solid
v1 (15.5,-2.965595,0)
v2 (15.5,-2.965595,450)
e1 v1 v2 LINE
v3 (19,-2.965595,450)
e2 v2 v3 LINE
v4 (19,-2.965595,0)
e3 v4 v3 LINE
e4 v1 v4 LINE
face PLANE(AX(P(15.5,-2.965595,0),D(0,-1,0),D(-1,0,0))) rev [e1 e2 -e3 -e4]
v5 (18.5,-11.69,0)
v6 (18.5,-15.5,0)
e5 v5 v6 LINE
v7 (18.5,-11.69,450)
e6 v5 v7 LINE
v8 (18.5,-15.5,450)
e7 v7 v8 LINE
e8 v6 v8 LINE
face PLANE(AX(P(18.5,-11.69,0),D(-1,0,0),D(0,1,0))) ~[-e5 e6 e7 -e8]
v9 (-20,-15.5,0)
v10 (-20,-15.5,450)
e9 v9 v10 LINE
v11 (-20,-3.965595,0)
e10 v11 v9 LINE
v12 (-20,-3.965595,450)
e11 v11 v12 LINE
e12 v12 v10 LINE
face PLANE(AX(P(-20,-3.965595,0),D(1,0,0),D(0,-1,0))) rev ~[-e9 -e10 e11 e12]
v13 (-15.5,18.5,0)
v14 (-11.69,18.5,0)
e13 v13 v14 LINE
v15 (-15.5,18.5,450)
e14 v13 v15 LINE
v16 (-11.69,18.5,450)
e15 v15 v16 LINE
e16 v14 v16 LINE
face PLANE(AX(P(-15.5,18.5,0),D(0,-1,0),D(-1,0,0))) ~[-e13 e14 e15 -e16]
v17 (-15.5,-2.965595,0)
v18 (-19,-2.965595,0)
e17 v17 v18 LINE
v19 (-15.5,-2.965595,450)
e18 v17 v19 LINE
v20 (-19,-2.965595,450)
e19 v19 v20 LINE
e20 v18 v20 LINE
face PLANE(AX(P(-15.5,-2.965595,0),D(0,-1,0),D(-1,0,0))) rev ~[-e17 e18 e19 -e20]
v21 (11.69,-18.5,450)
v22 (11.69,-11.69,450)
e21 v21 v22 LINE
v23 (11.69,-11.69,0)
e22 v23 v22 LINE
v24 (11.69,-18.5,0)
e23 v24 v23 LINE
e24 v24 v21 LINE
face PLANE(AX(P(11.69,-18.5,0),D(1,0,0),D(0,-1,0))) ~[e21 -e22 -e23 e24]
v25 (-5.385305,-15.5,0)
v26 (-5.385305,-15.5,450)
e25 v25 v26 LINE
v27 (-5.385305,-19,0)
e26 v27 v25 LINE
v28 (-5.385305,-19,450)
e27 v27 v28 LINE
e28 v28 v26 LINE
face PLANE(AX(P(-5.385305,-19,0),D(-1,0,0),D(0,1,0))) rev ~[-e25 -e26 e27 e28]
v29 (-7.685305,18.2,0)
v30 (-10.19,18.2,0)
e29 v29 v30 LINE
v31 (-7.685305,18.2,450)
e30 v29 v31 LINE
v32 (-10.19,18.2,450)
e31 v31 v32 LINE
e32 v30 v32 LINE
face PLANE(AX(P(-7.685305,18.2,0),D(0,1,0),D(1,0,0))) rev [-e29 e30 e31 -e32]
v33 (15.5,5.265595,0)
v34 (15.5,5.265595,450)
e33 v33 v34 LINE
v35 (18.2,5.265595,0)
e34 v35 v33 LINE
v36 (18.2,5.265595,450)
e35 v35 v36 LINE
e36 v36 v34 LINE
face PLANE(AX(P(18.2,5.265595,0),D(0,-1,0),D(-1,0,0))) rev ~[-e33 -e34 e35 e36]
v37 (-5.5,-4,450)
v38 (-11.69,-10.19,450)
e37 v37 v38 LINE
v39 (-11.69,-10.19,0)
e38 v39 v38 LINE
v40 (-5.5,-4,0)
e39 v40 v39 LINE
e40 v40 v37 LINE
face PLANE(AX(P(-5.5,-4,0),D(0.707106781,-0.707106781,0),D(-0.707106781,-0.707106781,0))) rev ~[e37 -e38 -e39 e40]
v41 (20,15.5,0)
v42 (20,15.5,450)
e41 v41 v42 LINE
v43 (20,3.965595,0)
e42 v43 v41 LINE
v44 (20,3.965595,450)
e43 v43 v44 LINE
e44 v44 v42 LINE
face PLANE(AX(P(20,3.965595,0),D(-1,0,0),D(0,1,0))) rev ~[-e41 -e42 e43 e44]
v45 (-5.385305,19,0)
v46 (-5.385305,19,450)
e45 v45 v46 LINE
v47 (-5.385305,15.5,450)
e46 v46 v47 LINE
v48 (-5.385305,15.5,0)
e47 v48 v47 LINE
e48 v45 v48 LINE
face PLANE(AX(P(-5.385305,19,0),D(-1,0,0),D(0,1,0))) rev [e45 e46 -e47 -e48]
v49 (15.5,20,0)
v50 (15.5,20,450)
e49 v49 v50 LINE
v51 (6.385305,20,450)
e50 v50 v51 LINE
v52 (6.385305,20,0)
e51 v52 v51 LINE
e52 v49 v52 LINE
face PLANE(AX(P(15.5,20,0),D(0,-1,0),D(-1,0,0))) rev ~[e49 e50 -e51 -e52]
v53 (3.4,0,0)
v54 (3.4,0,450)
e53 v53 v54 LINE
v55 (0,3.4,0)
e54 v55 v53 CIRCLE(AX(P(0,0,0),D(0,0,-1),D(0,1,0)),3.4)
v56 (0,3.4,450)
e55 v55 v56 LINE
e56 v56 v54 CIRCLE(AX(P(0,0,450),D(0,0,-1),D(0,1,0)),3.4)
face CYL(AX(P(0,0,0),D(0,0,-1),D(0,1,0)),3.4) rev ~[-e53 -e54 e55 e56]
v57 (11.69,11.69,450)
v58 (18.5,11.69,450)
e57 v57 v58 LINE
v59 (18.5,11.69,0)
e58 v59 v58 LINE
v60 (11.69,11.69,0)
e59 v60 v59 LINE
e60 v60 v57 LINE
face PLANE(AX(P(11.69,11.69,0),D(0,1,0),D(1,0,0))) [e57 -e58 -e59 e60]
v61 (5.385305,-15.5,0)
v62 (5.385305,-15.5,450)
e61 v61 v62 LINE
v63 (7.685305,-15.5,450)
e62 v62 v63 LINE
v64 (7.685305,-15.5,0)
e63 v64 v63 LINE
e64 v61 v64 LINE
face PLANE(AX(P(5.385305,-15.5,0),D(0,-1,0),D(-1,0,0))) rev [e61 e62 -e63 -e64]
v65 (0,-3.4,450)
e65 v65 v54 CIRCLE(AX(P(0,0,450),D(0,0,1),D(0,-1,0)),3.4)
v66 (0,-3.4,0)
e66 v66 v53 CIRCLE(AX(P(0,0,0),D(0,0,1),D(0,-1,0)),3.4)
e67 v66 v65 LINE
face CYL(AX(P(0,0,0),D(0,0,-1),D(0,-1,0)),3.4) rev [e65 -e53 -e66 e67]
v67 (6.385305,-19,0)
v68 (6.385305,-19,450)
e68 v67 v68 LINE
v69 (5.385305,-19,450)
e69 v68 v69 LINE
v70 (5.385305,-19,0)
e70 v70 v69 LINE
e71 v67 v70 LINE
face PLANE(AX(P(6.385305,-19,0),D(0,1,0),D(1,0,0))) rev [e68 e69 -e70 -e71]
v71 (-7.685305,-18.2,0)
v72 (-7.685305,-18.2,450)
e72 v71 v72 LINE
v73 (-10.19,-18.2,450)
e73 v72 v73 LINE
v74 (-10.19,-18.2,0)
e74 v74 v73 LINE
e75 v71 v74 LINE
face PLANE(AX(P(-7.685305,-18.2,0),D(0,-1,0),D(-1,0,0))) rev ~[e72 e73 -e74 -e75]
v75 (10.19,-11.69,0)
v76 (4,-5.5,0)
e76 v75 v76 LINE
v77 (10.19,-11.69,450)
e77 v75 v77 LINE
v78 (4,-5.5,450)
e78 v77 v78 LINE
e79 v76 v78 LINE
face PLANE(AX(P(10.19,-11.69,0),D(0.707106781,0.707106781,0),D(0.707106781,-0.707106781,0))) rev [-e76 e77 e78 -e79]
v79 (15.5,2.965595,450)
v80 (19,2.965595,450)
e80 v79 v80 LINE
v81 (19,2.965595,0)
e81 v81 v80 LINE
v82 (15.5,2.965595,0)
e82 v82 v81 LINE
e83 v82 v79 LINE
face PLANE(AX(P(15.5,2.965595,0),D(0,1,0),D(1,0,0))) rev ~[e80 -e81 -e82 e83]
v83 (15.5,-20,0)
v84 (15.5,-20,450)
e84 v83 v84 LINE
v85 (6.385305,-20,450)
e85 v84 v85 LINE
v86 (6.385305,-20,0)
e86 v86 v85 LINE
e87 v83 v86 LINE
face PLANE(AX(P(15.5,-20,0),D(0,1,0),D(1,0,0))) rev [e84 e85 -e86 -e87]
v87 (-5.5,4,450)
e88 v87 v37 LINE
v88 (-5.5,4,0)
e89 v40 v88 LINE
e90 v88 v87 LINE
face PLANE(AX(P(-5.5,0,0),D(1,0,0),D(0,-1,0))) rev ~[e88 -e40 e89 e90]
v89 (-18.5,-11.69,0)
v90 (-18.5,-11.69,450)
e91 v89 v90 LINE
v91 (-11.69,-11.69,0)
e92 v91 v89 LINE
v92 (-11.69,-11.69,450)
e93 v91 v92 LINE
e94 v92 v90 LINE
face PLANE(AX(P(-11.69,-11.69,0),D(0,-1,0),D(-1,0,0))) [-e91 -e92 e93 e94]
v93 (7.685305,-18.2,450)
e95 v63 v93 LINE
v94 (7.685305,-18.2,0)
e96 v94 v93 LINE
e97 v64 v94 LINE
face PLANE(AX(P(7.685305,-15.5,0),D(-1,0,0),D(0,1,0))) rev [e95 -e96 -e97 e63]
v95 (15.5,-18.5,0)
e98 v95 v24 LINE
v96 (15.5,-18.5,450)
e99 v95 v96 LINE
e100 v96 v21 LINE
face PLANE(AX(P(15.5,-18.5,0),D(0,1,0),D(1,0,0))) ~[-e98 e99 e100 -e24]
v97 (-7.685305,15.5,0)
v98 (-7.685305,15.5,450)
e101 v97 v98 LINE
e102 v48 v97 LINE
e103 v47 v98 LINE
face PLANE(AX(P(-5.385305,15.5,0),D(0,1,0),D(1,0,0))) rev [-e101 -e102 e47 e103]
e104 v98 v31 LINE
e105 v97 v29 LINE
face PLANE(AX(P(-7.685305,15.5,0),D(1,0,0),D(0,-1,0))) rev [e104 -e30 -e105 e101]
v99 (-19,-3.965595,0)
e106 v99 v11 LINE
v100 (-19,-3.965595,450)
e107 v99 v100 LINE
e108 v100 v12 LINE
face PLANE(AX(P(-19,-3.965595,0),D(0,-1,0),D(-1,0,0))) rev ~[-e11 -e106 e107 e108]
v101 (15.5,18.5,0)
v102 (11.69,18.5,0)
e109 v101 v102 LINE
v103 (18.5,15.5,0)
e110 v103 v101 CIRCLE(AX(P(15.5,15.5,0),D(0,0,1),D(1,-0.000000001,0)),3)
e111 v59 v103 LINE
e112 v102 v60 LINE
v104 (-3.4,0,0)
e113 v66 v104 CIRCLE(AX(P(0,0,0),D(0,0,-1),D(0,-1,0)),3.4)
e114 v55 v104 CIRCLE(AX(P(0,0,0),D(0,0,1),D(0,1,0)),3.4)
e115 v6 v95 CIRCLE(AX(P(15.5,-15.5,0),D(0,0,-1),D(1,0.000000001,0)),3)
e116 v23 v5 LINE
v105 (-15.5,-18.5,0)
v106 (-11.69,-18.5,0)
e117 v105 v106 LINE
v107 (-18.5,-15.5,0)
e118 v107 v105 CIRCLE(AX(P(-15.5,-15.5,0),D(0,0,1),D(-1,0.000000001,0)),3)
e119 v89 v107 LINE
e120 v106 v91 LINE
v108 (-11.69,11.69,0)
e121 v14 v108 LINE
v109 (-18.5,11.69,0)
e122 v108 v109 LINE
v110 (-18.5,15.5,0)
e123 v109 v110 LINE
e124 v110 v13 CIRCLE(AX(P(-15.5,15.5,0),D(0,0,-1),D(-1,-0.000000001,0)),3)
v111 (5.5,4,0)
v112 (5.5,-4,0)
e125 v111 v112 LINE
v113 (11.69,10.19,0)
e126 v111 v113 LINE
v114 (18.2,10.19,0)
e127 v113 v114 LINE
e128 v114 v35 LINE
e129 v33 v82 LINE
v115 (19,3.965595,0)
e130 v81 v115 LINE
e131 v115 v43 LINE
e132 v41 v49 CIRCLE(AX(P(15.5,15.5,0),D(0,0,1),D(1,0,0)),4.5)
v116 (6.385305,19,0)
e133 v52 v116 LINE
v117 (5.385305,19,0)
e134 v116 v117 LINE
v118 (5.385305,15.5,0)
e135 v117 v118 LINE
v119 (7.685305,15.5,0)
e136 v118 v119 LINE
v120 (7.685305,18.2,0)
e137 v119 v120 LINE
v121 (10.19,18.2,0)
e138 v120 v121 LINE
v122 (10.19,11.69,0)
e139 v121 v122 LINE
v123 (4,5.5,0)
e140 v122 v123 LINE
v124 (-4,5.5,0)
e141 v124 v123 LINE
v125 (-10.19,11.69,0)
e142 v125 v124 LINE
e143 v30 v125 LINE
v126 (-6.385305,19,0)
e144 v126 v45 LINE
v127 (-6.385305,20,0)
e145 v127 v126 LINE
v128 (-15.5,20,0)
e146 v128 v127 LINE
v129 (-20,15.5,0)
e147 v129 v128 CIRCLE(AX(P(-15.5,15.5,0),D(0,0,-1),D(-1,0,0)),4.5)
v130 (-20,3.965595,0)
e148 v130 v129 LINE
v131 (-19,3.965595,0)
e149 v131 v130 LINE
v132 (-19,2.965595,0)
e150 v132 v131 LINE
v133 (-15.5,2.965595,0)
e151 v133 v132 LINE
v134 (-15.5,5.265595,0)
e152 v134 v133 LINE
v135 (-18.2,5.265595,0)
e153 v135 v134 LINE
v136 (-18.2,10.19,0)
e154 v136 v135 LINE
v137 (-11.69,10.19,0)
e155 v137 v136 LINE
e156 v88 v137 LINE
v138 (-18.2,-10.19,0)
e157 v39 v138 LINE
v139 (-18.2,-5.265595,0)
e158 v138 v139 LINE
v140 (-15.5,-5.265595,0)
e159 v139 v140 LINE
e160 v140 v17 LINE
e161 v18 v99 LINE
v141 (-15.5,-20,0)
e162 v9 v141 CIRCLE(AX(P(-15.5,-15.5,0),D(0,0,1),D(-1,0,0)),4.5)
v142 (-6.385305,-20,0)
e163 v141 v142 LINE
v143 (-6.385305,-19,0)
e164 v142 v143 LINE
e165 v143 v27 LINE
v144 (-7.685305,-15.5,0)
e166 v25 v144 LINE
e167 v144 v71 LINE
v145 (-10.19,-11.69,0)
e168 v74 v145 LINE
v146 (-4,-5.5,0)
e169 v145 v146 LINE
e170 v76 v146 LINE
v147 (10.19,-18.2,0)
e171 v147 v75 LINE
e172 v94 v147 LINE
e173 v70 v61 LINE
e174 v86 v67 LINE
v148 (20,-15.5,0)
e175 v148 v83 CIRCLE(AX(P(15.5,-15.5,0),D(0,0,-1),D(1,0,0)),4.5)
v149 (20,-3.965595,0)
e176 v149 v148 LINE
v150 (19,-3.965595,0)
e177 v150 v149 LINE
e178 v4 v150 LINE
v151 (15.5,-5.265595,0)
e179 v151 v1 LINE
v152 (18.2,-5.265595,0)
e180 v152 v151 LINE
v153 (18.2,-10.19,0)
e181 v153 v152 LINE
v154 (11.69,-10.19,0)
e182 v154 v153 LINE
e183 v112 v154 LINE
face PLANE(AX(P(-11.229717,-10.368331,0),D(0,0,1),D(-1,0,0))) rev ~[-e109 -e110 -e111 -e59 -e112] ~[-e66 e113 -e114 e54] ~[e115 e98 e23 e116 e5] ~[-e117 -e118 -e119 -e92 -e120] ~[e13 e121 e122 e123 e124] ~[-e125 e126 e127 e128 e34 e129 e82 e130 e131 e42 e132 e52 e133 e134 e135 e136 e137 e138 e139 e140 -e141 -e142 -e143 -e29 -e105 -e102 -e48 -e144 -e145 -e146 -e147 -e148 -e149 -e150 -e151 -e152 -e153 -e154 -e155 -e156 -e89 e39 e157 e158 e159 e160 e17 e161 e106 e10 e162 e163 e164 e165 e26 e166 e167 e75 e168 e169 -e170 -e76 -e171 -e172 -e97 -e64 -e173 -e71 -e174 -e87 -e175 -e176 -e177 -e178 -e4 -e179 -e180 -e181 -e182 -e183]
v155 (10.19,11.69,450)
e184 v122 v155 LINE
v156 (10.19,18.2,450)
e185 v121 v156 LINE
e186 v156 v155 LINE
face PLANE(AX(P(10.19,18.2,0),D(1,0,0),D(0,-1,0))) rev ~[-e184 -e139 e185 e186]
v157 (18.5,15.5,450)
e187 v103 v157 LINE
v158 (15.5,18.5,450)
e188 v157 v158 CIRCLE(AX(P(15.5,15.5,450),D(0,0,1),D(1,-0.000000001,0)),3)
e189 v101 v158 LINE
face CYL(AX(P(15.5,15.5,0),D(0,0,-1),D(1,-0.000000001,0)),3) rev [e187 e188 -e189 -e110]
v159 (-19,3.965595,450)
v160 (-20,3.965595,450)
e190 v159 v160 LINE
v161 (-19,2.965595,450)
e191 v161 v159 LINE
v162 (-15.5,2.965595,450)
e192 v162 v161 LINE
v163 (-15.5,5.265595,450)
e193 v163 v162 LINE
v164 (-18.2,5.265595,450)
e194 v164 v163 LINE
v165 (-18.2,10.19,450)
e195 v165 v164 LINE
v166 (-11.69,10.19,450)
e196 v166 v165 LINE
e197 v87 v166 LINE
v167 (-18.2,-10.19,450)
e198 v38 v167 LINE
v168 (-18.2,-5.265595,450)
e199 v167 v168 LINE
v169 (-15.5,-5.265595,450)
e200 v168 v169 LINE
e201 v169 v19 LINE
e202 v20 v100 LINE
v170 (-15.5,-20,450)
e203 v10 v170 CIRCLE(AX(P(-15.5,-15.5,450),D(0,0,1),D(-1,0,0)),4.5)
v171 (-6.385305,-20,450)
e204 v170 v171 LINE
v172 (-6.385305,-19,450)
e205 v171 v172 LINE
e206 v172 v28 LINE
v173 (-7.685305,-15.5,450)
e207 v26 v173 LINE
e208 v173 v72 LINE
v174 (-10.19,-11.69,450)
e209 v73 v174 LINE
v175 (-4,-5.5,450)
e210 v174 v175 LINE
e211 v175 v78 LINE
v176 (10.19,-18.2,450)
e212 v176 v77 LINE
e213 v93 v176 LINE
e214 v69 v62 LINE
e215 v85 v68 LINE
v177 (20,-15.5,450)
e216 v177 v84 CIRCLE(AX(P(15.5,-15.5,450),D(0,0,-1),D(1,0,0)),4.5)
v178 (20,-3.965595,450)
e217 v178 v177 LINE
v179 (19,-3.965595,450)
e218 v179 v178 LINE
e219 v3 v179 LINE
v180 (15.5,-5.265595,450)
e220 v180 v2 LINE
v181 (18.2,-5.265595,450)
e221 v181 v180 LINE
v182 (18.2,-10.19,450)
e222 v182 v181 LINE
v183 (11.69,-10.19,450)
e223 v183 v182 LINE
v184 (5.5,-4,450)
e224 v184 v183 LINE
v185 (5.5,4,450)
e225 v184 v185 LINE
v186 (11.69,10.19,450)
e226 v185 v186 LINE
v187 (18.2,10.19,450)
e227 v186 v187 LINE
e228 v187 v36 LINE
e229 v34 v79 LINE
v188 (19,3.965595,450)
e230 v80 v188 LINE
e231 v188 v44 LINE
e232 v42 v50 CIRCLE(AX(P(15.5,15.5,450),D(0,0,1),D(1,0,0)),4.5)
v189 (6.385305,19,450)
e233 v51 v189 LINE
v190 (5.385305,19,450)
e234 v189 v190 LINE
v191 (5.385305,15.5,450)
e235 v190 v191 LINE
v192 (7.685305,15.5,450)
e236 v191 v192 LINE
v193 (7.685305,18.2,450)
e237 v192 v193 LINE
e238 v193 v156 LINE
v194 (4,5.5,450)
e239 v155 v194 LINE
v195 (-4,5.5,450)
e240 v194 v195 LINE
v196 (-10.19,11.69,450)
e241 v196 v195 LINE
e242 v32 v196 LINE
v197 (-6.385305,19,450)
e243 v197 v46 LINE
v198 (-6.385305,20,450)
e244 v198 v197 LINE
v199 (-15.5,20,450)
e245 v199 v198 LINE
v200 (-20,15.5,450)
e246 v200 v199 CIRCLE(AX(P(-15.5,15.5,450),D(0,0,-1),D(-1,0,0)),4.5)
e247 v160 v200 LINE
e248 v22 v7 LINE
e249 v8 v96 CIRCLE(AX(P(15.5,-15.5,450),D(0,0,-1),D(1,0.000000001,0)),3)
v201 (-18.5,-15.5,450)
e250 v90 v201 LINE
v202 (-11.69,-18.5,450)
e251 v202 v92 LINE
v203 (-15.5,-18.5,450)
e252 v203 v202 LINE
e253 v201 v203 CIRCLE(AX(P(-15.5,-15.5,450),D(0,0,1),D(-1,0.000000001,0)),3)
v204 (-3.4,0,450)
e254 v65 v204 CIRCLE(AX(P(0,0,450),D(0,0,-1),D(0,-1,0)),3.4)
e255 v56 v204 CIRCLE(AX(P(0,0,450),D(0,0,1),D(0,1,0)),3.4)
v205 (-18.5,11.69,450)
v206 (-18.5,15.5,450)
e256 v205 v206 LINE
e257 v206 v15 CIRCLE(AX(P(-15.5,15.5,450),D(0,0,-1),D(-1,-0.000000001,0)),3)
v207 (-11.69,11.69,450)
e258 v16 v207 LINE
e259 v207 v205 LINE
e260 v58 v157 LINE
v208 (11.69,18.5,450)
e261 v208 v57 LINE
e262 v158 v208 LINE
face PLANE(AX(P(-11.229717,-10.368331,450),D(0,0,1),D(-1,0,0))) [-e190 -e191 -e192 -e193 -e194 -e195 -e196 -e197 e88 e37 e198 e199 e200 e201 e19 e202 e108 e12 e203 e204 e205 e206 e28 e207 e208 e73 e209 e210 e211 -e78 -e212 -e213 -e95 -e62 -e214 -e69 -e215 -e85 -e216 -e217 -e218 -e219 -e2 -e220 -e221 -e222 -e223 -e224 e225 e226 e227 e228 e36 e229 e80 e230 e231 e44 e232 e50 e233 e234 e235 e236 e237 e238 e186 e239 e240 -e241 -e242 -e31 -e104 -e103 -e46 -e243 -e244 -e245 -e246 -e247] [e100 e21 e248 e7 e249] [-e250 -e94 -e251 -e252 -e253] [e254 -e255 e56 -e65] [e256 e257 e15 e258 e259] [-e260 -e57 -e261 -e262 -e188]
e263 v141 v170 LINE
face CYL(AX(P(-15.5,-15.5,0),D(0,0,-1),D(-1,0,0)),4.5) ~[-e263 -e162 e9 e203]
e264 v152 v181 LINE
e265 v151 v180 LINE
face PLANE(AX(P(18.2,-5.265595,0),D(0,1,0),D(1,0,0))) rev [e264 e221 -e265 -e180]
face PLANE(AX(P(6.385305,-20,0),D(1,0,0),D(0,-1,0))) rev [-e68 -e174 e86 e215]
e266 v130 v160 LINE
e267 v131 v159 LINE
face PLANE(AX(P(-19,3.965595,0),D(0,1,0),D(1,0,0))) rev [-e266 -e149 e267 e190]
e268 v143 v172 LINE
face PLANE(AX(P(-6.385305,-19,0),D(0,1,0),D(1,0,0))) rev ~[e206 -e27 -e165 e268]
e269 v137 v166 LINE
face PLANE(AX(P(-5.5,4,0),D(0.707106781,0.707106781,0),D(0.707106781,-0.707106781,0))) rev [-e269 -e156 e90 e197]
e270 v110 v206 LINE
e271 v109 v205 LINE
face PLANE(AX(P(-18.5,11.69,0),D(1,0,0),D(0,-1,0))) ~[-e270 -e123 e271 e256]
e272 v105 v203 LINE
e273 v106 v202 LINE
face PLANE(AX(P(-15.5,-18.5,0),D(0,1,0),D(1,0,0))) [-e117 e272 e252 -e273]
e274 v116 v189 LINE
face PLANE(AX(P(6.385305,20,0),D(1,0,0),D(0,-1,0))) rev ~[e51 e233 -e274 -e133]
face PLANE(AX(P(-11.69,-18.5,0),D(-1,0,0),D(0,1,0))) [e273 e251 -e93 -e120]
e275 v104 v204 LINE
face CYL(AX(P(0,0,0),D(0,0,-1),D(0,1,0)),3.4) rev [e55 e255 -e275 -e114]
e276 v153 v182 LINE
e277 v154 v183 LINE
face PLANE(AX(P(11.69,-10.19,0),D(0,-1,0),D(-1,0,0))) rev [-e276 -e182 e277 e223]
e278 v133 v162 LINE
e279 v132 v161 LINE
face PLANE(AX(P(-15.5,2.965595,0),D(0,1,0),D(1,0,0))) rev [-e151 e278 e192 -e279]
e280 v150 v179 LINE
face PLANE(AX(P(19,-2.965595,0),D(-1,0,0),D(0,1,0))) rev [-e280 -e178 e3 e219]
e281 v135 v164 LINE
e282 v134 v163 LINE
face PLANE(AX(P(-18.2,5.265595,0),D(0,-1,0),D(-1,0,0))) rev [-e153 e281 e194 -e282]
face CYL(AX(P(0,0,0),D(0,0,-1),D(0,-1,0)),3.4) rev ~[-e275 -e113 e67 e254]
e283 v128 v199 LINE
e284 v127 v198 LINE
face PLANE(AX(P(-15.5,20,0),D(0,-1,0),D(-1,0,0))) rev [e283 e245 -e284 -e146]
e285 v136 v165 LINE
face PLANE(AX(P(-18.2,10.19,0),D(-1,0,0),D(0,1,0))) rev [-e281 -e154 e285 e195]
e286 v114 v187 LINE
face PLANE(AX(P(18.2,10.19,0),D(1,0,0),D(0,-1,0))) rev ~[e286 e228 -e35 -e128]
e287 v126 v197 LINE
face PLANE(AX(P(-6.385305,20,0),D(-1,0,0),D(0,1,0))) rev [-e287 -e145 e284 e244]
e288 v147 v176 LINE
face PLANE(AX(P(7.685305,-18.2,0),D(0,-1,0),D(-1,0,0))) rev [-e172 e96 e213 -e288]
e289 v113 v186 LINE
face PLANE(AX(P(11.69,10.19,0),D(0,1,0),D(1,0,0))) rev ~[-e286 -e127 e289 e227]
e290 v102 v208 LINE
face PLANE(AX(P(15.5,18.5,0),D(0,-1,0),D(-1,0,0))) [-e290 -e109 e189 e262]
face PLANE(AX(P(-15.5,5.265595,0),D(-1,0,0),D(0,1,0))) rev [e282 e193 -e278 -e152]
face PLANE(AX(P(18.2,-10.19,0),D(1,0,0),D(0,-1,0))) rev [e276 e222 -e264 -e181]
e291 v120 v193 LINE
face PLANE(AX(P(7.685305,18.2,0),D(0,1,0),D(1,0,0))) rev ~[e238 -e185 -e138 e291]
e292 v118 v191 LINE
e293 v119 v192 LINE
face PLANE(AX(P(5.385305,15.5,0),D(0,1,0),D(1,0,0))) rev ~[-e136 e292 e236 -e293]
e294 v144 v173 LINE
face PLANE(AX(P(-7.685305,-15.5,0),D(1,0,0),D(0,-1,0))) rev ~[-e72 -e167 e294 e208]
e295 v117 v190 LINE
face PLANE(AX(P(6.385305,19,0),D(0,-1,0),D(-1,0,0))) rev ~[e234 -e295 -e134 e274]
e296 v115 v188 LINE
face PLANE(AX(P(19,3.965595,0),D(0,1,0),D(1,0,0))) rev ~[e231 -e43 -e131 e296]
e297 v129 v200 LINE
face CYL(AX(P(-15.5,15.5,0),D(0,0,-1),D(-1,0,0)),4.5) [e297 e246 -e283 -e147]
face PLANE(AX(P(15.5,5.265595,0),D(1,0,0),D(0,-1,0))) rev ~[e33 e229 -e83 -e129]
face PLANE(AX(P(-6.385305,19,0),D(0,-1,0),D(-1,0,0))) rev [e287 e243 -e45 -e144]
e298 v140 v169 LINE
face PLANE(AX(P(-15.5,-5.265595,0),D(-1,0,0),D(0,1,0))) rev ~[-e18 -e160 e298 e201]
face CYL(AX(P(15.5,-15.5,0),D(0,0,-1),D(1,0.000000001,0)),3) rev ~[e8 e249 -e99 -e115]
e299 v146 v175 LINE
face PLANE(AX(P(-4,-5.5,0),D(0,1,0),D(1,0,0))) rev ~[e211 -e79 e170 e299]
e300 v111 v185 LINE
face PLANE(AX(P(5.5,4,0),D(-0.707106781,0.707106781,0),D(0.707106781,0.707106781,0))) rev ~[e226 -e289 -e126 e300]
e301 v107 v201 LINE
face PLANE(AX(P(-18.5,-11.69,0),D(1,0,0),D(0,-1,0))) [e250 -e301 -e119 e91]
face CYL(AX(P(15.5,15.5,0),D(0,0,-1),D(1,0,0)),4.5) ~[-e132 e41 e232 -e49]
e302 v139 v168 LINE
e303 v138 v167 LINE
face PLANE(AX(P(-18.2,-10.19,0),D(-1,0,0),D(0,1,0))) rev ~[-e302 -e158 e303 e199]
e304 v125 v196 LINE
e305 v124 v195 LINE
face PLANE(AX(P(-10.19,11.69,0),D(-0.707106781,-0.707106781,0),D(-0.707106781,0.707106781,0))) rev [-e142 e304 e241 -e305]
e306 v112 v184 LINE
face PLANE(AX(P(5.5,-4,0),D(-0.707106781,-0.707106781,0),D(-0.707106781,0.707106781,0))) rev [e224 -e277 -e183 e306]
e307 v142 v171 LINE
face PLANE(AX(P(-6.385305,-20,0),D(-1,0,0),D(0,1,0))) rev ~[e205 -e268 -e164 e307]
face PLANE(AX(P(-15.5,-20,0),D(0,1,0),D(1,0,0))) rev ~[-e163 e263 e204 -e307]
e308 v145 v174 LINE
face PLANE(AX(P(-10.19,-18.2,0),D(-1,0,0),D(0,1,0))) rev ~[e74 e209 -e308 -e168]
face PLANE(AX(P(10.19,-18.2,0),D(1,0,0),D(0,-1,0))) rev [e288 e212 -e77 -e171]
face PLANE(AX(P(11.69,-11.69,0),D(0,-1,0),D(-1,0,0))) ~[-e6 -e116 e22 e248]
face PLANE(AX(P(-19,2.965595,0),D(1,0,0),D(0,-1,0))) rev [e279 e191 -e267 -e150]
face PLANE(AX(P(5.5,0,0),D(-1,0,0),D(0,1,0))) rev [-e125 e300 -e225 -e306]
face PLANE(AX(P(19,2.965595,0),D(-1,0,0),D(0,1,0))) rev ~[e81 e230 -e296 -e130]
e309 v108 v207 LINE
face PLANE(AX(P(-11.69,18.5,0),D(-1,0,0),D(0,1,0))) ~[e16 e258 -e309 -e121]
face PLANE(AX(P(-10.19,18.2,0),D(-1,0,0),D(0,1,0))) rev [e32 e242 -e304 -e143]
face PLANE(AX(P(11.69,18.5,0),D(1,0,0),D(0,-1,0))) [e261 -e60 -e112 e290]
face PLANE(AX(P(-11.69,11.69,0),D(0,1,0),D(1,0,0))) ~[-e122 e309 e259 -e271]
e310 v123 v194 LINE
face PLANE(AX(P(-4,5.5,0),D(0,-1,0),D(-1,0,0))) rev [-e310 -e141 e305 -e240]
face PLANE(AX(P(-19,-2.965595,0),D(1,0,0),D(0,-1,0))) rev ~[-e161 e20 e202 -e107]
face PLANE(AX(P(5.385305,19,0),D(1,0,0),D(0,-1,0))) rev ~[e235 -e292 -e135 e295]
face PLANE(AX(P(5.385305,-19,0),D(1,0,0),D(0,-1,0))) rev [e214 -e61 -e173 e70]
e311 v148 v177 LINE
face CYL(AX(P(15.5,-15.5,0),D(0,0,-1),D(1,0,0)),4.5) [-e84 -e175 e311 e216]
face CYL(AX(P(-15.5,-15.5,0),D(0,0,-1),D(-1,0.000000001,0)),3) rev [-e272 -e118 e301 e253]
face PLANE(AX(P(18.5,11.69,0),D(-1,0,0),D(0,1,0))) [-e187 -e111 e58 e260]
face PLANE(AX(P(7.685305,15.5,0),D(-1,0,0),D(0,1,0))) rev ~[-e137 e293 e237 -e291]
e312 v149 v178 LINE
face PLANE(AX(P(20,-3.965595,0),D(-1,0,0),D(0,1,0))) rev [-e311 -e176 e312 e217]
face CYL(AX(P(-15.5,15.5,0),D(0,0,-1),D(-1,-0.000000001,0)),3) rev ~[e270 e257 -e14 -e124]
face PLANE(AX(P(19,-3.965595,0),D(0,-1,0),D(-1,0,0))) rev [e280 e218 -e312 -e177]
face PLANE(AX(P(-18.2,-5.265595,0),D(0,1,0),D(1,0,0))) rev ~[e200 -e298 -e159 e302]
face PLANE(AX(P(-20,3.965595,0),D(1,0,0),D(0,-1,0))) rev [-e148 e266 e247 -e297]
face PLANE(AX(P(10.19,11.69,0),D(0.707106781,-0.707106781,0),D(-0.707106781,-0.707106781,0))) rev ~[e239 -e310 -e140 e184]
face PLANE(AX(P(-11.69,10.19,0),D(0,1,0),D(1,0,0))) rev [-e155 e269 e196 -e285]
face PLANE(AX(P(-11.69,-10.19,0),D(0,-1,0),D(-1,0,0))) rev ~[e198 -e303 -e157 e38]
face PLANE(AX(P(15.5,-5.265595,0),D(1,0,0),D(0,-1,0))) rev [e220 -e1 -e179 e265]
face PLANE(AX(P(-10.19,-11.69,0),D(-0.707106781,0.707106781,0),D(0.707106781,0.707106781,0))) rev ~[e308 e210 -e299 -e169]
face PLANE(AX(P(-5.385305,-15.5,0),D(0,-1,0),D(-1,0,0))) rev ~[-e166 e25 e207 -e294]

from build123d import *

# Parameters (mm, degrees)
BOSS_EXTRUDE1_DEPTH  = 450
MIRROR3_COPY_1_DEPTH = 450
MIRROR3_COPY_2_DEPTH = 450


with BuildPart() as part:
    # Sketch1 → Boss-Extrude1 (new body)
    with BuildSketch(Plane.XY):
        with BuildLine():
            Line((3.4, 0), (5.5, 0))
            Line((5.5, 0), (5.5, 4))
            Line((5.5, 4), (11.69, 10.19))
            Line((11.69, 10.19), (18.2, 10.19))
            Line((18.2, 10.19), (18.2, 5.265595036))
            Line((18.2, 5.265595036), (15.5, 5.265595036))
            Line((15.5, 5.265595036), (15.5, 2.965595036))
            Line((15.5, 2.965595036), (19, 2.965595036))
            Line((19, 2.965595036), (19, 3.965595036))
            Line((19, 3.965595036), (20, 3.965595036))
            Line((20, 3.965595036), (20, 15.5))
            ThreePointArc((20, 15.5), (18.681980515, 18.681980515), (15.5, 20))
            Line((15.5, 20), (6.385304712, 20))
            Line((6.385304712, 20), (6.385304712, 19))
            Line((6.385304712, 19), (5.385304712, 19))
            Line((5.385304712, 19), (5.385304712, 15.5))
            Line((5.385304712, 15.5), (7.685304712, 15.5))
            Line((7.685304712, 15.5), (7.685304712, 18.2))
            Line((7.685304712, 18.2), (10.19, 18.2))
            Line((10.19, 18.2), (10.19, 11.69))
            Line((10.19, 11.69), (4, 5.5))
            Line((4, 5.5), (0, 5.5))
            Line((0, 5.5), (0, 3.4))
            ThreePointArc((0, 3.4), (2.404163056, 2.404163056), (3.4, 0))
        make_face()
        with BuildLine():
            Line((18.5, 11.69), (18.5, 15.5))
            ThreePointArc((18.5, 15.5), (17.621320344, 17.621320344), (15.5, 18.5))
            Line((15.5, 18.5), (11.69, 18.5))
            Line((11.69, 18.5), (11.69, 11.69))
            Line((11.69, 11.69), (18.5, 11.69))
        make_face(mode=Mode.SUBTRACT)
    boss_extrude1 = extrude(amount=BOSS_EXTRUDE1_DEPTH)

    # Mirror1: Boss-Extrude1 across plane
    add(boss_extrude1.mirror(Plane.ZX))

    # Mirror2: Boss-Extrude1 across plane
    add(boss_extrude1.mirror(Plane(origin=(0, 0, 0), x_dir=(0, 0, 1), z_dir=(1, 0, 0))))

    # Mirror3 copy 1 sketch → Mirror3 copy 1 (add)
    with BuildSketch(Plane(origin=(0, 0, 0), x_dir=(-1, 0, 0), z_dir=(0, 0, 1))):
        with BuildLine():
            Line((3.4, 0), (5.5, 0))
            Line((5.5, 0), (5.5, 4))
            Line((5.5, 4), (11.69, 10.19))
            Line((11.69, 10.19), (18.2, 10.19))
            Line((18.2, 10.19), (18.2, 5.265595036))
            Line((18.2, 5.265595036), (15.5, 5.265595036))
            Line((15.5, 5.265595036), (15.5, 2.965595036))
            Line((15.5, 2.965595036), (19, 2.965595036))
            Line((19, 2.965595036), (19, 3.965595036))
            Line((19, 3.965595036), (20, 3.965595036))
            Line((20, 3.965595036), (20, 15.5))
            ThreePointArc((20, 15.5), (18.681980515, 18.681980515), (15.5, 20))
            Line((15.5, 20), (6.385304712, 20))
            Line((6.385304712, 20), (6.385304712, 19))
            Line((6.385304712, 19), (5.385304712, 19))
            Line((5.385304712, 19), (5.385304712, 15.5))
            Line((5.385304712, 15.5), (7.685304712, 15.5))
            Line((7.685304712, 15.5), (7.685304712, 18.2))
            Line((7.685304712, 18.2), (10.19, 18.2))
            Line((10.19, 18.2), (10.19, 11.69))
            Line((10.19, 11.69), (4, 5.5))
            Line((4, 5.5), (0, 5.5))
            Line((0, 5.5), (0, 3.4))
            ThreePointArc((0, 3.4), (2.404163056, 2.404163056), (3.4, 0))
        make_face()
        with BuildLine():
            Line((18.5, 11.69), (18.5, 15.5))
            ThreePointArc((18.5, 15.5), (17.621320344, 17.621320344), (15.5, 18.5))
            Line((15.5, 18.5), (11.69, 18.5))
            Line((11.69, 18.5), (11.69, 11.69))
            Line((11.69, 11.69), (18.5, 11.69))
        make_face(mode=Mode.SUBTRACT)
    extrude(amount=MIRROR3_COPY_1_DEPTH)

    # Mirror3 copy 2 sketch → Mirror3 copy 2 (add)
    with BuildSketch(Plane.XY):
        with BuildLine():
            Line((3.4, 0), (5.5, 0))
            Line((5.5, 0), (5.5, -4))
            Line((5.5, -4), (11.69, -10.19))
            Line((11.69, -10.19), (18.2, -10.19))
            Line((18.2, -10.19), (18.2, -5.265595036))
            Line((18.2, -5.265595036), (15.5, -5.265595036))
            Line((15.5, -5.265595036), (15.5, -2.965595036))
            Line((15.5, -2.965595036), (19, -2.965595036))
            Line((19, -2.965595036), (19, -3.965595036))
            Line((19, -3.965595036), (20, -3.965595036))
            Line((20, -3.965595036), (20, -15.5))
            ThreePointArc((20, -15.5), (18.681980515, -18.681980515), (15.5, -20))
            Line((15.5, -20), (6.385304712, -20))
            Line((6.385304712, -20), (6.385304712, -19))
            Line((6.385304712, -19), (5.385304712, -19))
            Line((5.385304712, -19), (5.385304712, -15.5))
            Line((5.385304712, -15.5), (7.685304712, -15.5))
            Line((7.685304712, -15.5), (7.685304712, -18.2))
            Line((7.685304712, -18.2), (10.19, -18.2))
            Line((10.19, -18.2), (10.19, -11.69))
            Line((10.19, -11.69), (4, -5.5))
            Line((4, -5.5), (0, -5.5))
            Line((0, -5.5), (0, -3.4))
            ThreePointArc((0, -3.4), (2.404163056, -2.404163056), (3.4, 0))
        make_face()
        with BuildLine():
            Line((18.5, -11.69), (18.5, -15.5))
            ThreePointArc((18.5, -15.5), (17.621320344, -17.621320344), (15.5, -18.5))
            Line((15.5, -18.5), (11.69, -18.5))
            Line((11.69, -18.5), (11.69, -11.69))
            Line((11.69, -11.69), (18.5, -11.69))
        make_face(mode=Mode.SUBTRACT)
    extrude(amount=MIRROR3_COPY_2_DEPTH)


solid = part.part
